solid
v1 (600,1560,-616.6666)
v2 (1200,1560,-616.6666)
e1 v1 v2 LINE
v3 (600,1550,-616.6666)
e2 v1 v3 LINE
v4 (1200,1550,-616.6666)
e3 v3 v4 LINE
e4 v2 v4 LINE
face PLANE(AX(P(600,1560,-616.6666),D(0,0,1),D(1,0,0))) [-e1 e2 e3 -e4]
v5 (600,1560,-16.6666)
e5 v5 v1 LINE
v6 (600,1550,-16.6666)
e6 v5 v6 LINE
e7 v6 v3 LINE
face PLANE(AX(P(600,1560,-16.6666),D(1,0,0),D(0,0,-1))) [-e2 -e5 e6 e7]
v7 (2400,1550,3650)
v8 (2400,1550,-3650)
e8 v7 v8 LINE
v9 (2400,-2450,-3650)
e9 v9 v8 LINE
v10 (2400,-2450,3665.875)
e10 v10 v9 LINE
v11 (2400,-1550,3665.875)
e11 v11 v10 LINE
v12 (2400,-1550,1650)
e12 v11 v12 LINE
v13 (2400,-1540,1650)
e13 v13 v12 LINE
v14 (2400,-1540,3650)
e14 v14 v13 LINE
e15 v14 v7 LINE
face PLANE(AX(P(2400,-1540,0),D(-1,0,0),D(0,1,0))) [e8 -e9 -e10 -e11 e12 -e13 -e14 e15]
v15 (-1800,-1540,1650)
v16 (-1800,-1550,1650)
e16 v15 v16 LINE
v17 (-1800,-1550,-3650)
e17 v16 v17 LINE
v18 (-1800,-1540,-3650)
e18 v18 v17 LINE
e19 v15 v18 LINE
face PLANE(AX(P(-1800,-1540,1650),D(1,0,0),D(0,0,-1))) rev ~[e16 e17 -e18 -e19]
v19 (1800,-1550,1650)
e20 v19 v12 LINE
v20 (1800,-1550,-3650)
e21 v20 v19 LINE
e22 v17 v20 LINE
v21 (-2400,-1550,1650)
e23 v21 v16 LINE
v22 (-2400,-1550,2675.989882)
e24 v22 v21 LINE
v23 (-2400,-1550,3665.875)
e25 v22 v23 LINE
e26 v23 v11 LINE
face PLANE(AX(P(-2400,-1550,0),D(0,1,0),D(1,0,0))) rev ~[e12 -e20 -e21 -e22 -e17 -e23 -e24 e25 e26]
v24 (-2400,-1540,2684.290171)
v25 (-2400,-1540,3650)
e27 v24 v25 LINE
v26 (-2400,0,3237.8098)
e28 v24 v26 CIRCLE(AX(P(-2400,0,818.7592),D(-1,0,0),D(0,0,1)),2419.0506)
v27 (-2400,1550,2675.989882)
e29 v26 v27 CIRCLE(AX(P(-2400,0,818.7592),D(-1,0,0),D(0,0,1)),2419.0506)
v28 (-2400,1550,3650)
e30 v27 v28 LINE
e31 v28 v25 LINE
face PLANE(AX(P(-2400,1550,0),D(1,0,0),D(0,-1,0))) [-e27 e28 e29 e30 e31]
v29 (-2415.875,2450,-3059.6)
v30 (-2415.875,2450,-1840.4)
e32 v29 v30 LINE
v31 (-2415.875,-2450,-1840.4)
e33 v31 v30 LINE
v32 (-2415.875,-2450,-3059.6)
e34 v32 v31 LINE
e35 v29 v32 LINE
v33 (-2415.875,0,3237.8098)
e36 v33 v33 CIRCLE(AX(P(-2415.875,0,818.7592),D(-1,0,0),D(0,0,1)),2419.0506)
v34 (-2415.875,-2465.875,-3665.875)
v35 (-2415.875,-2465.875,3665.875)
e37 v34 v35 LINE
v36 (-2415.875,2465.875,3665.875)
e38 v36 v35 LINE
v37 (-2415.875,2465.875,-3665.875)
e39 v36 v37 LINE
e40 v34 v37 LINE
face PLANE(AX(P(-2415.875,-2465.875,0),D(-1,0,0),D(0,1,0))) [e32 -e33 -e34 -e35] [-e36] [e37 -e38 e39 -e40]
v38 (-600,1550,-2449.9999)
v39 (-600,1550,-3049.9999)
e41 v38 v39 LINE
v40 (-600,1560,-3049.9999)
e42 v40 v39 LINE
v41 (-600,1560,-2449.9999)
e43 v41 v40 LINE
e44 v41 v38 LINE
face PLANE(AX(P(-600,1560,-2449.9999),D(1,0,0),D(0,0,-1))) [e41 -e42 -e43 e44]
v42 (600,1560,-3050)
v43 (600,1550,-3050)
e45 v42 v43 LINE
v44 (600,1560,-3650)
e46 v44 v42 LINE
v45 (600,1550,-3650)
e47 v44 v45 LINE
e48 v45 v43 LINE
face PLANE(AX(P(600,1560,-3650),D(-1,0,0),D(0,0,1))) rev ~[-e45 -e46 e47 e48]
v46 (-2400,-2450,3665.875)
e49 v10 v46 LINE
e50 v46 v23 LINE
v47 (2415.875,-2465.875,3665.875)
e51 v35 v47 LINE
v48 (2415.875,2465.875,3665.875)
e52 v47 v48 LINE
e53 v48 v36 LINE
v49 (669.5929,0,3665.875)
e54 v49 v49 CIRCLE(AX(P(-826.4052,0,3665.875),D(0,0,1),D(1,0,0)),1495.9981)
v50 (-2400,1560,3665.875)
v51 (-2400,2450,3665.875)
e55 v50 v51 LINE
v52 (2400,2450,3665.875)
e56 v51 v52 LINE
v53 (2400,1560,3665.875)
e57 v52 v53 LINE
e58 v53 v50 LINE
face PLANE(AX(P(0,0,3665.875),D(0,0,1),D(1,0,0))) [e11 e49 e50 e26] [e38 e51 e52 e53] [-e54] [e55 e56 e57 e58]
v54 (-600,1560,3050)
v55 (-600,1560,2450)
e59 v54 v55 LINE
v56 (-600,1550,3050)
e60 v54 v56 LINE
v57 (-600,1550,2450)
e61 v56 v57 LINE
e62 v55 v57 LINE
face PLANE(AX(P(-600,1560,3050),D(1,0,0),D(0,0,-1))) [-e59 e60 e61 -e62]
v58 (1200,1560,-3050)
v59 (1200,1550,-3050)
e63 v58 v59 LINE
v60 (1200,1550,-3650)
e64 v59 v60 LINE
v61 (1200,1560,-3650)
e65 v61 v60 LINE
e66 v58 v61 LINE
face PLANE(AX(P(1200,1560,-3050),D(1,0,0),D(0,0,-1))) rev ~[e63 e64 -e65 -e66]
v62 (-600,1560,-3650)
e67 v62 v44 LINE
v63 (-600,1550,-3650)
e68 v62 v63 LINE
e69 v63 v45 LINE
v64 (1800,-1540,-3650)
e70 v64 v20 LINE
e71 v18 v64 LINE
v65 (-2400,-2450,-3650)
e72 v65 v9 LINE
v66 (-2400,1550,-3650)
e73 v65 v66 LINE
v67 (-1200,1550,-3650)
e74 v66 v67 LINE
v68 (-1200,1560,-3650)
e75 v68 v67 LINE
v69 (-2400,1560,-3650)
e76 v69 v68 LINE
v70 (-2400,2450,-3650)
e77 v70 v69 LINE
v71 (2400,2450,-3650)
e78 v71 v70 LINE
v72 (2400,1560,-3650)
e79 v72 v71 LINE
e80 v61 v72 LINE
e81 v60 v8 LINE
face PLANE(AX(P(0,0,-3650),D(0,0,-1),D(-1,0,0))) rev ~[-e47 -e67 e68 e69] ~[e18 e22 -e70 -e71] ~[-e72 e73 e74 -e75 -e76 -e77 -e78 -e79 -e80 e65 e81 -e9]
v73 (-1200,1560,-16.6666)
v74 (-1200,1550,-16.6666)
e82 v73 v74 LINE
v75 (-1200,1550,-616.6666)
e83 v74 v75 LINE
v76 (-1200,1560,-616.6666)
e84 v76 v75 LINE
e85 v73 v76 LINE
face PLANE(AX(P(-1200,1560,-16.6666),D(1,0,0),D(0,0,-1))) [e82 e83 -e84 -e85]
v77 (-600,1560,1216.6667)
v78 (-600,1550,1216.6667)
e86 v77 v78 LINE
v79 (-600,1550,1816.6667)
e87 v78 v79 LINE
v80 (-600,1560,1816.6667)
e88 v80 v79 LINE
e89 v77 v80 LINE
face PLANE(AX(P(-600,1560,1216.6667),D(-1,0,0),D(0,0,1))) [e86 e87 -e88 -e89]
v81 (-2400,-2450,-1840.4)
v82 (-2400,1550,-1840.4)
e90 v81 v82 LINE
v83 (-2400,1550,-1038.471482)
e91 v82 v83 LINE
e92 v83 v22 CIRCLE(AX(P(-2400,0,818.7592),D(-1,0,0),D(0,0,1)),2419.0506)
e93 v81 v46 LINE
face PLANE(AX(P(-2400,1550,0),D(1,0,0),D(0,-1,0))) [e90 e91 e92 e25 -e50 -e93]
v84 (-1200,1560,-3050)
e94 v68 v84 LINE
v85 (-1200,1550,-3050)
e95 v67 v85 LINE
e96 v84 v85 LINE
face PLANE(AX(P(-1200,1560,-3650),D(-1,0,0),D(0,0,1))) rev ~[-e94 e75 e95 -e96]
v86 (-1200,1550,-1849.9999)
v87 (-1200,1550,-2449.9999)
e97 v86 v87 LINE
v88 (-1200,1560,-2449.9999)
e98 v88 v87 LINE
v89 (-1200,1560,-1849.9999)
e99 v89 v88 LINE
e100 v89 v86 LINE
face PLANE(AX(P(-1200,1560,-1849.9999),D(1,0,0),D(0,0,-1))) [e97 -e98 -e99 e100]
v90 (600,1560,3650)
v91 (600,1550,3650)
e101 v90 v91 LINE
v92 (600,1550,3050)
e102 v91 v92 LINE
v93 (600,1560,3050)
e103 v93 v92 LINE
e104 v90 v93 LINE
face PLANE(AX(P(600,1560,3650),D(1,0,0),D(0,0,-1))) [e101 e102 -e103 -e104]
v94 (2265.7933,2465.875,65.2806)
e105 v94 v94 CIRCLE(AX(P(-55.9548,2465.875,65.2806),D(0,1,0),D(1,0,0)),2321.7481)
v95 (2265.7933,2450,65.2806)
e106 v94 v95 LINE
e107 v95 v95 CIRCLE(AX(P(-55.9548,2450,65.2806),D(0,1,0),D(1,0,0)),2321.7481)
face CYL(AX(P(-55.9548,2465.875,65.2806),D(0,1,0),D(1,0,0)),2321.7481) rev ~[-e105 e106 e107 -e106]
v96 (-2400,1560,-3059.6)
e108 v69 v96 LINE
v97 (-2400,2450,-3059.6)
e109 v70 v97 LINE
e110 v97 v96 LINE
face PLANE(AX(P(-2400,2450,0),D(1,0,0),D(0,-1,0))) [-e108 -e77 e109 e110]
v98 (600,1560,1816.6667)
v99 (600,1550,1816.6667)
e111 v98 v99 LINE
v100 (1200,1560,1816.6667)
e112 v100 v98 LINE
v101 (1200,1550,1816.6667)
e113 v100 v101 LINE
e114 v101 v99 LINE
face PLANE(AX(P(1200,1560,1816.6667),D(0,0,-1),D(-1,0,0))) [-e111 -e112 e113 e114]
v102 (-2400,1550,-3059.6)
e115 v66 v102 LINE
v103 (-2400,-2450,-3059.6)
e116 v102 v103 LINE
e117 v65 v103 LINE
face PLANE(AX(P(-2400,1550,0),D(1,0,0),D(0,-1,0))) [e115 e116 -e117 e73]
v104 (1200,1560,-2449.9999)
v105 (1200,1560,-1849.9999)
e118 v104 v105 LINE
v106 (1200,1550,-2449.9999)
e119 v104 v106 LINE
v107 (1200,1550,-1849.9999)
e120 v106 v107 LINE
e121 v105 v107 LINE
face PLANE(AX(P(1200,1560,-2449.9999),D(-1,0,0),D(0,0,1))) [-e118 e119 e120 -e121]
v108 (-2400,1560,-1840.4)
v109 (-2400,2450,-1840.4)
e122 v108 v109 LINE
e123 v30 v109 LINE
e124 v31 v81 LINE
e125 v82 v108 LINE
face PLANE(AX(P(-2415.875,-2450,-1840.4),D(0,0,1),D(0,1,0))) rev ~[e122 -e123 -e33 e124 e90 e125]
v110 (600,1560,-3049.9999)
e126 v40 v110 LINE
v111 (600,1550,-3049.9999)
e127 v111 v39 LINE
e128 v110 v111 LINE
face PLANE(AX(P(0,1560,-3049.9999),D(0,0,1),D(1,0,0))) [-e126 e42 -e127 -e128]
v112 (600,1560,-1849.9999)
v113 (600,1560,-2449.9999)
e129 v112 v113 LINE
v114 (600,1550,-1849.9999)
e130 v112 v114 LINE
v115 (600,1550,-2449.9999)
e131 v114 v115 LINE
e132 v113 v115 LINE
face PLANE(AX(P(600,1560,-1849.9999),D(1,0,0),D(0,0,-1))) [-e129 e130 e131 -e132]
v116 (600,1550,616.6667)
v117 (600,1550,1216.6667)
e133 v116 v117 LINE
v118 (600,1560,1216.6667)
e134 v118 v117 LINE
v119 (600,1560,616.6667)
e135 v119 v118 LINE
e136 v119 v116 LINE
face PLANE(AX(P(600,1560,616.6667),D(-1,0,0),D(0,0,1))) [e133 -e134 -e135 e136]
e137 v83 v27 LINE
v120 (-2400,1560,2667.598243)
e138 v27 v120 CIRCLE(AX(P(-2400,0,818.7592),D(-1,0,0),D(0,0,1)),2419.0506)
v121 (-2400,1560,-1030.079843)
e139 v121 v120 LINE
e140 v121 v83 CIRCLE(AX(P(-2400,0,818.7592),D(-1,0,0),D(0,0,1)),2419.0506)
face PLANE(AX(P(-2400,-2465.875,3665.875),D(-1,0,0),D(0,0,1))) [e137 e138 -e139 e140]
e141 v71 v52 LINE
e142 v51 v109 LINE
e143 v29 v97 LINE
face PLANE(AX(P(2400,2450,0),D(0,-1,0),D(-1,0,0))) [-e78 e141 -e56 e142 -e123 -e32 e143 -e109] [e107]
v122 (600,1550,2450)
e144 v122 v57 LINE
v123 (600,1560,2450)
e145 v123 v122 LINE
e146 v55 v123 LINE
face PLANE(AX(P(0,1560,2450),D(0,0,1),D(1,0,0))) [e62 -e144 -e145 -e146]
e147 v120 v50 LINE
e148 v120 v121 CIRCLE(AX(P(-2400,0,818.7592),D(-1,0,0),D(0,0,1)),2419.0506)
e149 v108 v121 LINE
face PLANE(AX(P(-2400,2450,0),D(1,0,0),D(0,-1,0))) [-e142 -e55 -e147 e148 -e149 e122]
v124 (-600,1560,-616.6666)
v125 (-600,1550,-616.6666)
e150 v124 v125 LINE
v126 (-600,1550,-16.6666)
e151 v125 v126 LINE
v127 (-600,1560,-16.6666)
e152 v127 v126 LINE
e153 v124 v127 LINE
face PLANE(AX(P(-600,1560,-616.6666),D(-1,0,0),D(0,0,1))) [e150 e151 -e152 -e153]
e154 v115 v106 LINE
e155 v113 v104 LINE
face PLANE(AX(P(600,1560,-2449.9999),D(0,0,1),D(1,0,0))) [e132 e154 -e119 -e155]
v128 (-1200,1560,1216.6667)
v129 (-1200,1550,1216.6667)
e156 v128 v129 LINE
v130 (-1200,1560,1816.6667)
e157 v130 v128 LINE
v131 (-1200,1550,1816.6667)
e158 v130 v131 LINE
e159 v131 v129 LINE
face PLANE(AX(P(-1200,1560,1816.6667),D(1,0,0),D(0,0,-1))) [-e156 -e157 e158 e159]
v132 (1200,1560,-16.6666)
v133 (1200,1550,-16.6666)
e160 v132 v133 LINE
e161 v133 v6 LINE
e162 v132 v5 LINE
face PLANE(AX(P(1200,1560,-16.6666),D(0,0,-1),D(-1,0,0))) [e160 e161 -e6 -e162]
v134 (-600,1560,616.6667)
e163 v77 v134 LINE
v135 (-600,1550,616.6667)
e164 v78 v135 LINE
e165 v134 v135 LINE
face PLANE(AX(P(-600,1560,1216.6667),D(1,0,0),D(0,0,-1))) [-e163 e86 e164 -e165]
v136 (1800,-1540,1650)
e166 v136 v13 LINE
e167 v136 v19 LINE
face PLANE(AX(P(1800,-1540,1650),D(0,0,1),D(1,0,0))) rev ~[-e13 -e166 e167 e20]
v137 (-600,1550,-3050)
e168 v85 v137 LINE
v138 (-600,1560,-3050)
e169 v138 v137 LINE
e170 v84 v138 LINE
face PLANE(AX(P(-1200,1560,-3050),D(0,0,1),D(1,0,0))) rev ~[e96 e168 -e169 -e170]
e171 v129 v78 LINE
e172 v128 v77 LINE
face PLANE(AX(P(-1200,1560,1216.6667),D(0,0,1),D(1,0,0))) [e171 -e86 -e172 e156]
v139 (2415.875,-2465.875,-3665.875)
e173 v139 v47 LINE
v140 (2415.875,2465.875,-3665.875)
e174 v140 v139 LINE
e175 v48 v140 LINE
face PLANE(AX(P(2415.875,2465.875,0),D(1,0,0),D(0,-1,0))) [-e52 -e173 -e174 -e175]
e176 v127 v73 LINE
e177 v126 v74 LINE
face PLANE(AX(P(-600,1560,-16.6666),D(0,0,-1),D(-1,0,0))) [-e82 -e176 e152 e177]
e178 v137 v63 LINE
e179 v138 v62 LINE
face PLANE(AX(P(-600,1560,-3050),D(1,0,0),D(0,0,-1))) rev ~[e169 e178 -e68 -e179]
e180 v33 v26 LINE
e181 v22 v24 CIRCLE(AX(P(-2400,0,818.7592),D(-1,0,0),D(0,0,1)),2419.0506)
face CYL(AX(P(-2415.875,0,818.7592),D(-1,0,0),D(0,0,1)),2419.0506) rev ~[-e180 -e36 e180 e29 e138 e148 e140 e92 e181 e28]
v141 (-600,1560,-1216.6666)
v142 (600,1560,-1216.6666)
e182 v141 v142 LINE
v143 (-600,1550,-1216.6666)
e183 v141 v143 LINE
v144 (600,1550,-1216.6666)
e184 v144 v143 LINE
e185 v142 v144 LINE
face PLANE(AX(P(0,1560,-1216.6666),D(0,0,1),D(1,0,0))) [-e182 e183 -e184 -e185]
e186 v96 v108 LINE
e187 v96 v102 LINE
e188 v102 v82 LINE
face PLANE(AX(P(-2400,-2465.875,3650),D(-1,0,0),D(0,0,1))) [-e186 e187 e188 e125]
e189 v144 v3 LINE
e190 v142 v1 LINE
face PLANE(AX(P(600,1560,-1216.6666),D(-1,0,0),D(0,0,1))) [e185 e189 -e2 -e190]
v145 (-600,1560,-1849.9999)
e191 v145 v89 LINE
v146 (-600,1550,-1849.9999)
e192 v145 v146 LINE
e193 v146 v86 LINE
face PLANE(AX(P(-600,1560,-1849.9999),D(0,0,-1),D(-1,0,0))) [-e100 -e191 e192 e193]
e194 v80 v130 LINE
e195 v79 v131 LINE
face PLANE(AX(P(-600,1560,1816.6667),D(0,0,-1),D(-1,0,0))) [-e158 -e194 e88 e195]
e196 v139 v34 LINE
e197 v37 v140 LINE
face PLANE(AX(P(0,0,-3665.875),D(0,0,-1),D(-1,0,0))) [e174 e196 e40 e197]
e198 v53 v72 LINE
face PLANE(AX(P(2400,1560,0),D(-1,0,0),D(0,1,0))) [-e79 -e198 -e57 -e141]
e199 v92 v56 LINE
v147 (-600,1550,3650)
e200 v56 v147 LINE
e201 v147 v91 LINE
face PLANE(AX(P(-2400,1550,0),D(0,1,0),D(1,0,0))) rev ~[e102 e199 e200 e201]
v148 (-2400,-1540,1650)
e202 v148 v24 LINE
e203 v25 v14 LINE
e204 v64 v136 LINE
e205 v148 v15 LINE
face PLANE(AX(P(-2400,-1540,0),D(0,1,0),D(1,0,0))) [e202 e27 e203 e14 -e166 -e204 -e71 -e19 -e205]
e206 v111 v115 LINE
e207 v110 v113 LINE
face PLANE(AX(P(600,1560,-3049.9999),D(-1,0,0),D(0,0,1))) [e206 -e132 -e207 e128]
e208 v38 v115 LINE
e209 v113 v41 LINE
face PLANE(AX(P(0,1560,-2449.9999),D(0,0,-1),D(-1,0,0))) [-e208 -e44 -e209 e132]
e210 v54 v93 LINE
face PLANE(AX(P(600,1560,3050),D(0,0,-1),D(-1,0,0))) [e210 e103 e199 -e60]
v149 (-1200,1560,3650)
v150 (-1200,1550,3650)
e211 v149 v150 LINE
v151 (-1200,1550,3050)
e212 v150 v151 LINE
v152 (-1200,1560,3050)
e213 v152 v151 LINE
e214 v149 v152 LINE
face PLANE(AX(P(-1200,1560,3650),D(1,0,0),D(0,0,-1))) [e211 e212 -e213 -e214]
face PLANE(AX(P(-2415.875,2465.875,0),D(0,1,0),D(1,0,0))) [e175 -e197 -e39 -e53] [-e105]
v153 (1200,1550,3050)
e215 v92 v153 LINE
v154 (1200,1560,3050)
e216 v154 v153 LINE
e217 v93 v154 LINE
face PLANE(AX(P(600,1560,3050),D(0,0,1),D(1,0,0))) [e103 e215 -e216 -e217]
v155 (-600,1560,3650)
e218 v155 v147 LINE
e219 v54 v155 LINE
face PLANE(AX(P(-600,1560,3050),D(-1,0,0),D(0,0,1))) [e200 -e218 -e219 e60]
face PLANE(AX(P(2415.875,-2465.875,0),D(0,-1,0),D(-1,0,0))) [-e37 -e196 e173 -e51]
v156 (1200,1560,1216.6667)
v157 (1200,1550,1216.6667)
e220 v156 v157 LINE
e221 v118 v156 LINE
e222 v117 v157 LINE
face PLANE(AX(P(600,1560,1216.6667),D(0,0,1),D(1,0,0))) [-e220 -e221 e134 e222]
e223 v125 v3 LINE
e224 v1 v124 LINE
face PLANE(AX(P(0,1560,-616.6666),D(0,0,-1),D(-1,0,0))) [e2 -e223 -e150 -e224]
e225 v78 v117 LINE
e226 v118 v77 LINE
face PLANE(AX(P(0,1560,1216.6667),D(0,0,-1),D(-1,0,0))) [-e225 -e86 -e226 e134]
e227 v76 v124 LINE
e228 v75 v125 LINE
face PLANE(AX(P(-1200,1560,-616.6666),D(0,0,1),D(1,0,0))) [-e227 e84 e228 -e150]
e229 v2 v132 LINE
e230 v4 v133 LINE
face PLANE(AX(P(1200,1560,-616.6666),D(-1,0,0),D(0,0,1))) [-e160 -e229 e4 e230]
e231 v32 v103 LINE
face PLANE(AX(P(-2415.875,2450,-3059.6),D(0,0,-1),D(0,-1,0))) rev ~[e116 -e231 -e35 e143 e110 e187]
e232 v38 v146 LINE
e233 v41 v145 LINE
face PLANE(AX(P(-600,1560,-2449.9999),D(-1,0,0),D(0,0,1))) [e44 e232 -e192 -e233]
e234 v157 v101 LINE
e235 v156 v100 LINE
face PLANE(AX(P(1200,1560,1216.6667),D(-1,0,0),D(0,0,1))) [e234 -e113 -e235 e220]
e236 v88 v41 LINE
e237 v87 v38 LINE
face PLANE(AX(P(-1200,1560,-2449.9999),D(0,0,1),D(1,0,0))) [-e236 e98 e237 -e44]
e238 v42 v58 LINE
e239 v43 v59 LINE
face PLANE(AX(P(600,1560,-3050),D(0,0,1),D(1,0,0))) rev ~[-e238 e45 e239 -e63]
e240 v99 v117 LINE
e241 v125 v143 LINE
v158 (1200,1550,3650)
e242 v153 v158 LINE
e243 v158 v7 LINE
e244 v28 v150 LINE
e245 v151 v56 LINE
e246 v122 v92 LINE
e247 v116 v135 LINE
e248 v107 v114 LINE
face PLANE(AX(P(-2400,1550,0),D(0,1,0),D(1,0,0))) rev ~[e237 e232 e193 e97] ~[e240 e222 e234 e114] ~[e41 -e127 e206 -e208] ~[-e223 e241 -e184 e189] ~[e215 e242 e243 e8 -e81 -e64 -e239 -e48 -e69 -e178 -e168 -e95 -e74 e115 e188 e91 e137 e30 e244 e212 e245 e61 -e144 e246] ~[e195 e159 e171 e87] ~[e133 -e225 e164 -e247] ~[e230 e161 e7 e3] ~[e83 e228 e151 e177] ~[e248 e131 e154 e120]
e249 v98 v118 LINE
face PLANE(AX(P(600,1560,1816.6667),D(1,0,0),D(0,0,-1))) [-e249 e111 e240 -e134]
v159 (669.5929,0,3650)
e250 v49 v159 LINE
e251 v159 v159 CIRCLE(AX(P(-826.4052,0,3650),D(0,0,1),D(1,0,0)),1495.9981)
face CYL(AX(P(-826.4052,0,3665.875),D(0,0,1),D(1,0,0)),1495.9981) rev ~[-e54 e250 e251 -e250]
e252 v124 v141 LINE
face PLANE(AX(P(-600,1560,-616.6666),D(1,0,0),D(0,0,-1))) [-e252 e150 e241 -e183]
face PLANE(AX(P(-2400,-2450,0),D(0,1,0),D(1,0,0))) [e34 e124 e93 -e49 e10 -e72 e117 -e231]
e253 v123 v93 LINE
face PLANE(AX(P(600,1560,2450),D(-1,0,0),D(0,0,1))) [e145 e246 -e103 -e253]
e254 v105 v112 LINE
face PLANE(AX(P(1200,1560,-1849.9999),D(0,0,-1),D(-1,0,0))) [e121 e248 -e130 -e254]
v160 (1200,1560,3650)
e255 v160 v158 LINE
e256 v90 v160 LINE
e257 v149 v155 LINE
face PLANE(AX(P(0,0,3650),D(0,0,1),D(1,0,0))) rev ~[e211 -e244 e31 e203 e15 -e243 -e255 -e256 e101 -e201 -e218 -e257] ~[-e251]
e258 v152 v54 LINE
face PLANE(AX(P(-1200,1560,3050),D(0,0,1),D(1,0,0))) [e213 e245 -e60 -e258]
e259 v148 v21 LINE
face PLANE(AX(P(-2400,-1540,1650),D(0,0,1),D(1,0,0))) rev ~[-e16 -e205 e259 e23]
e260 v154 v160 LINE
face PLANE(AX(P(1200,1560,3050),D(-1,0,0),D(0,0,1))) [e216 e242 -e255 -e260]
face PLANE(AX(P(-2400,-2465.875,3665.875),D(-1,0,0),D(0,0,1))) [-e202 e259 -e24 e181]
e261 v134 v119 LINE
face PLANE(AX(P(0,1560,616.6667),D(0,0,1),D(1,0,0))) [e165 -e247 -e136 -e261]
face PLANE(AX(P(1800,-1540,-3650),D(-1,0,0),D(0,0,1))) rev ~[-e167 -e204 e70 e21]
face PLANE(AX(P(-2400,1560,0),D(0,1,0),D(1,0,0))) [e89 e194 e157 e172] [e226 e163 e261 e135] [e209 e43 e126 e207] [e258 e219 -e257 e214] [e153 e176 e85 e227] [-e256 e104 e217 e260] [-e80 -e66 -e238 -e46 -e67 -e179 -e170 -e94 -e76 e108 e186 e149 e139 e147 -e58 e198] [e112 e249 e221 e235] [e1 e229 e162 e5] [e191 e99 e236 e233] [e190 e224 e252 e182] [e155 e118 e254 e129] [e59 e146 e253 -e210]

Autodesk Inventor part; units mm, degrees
ref_plane "YZ Plane" through (0, 0, 0) normal (1, 0, 0) x (0, 1, 0)
ref_plane "XZ Plane" through (0, 0, 0) normal (0, 1, 0) x (-1, 0, 0)
sketch "Sketch1" plane through (0, 0, 0) normal (0, 0, 1) x (1, 0, 0)
  line L0 (-2400, -2450) -> (2400, -2450)
  line L1 (2400, -2450) -> (2400, 2450)
  line L2 (2400, 2450) -> (-2400, 2450)
  line L3 (-2400, 2450) -> (-2400, -2450)
  line L4 (-2400, -2450) -> (2400, 2450) construction
  line L5 (2400, -2450) -> (-2400, 2450) construction
  line L6 (-2400, -1550) -> (2400, -1550)
  line L7 (-2400, 1550) -> (2400, 1550)
  line L8 (-2415.875, 2465.875) -> (2415.875, 2465.875)
  line L9 (2415.875, 2465.875) -> (2415.875, -2465.875)
  line L10 (2415.875, -2465.875) -> (-2415.875, -2465.875)
  line L11 (-2415.875, -2465.875) -> (-2415.875, 2465.875)
  line L12 (-2400, -1540) -> (2400, -1540)
  line L13 (-2400, 1560) -> (2400, 1560)
  point P0 (0, 0)
  dimension "d0" = 4800
  dimension "d1" = 4900
  dimension "d2" = 900
  dimension "d3" = 900
  dimension "d4" = 15.875
  dimension "d6" = 10
  dimension "d7" = 10
extrude "Extrusion1" add sketch "Sketch1" along normal mid plane 7300 contours L3 L12 L1 L6 | L3 L13 L1 L7 | L8 L9 L10 L11
sketch "Sketch2" plane through (-2415.875, -2465.875, 3650) normal (-1, 0, 0) x (0, 0, 1)
  line L0 (-7300, 4915.875) -> (0, 4915.875) projected
  line L1 (-7300, 4915.875) -> (0, 4915.875) projected
  line L2 (-7300, 15.875) -> (0, 15.875) projected
  line L3 (-7300, 15.875) -> (0, 15.875) projected
  line L4 (-7300, 15.875) -> (0, 15.875) construction
  line L5 (-7300, 15.875) -> (-6100, 15.875) construction
  line L6 (-7300, 15.875) -> (-6100, 15.875) construction
  line L7 (-6100, 15.875) -> (-6100, 2465.875) construction
  line L8 (-7300, 4915.875) -> (0, 4915.875) projected
  line L9 (-6709.6, 15.875) -> (-5490.4, 15.875)
  line L10 (-5490.4, 15.875) -> (-5490.4, 4915.875)
  line L11 (-5490.4, 4915.875) -> (-6709.6, 4915.875)
  line L12 (-6709.6, 4915.875) -> (-6709.6, 15.875)
  line L13 (-6709.6, 15.875) -> (-5490.4, 4915.875) construction
  line L14 (-5490.4, 15.875) -> (-6709.6, 4915.875) construction
  point P0 (-3650, 2465.875)
  point P1 (-6709.6, 4915.875)
  point P2 (-6709.6, 15.875)
  point P3 (-5490.4, 15.875)
  point P4 (-5490.4, 4915.875)
  dimension "d10" = 1200
  dimension "d11" = 0
  dimension "d12" = 2450
  dimension "d13" = 90
  dimension "d14" = 1219.2
ref_plane "Work Plane1" through (-2415.875, 0, -2450) normal (0, 1, 0) x (-1, 0, 0)
extrude "Extrusion2" cut sketch "Sketch2" against normal up to surface (15.875 mm away)
sketch "Sketch9" plane through (-2415.875, 0, -2450) normal (0, 1, 0) x (-1, 0, 0)
  line L0 (0, -609.6) -> (0, 609.6) projected
  line L1 (0, 0) -> (-3.2, 0) construction
  line L2 (0, 0) -> (3.2, 0) construction
  point P0 (-2415.875, 2450)
  dimension "d67" = 3.2
  dimension "d68" = 180
sketch "Sketch3" plane through (0, 0, -3650) normal (0, 0, -1) x (-1, 0, 0)
  line L0 (2400, -1540) -> (-2400, -1540) projected
  line L1 (2400, -1540) -> (1800, -1540)
  line L2 (2400, -1540) -> (3000, -1540) construction
  line L3 (-2400, -1540) -> (2400, -1540) projected
  line L4 (-2400, -1540) -> (-1800, -1540)
  line L5 (-2400, -1540) -> (-1800, -1540) construction
  point P0 (0, 0)
  dimension "d17" = 600
  dimension "d18" = 180
  dimension "d19" = 600
  dimension "d20" = 0
sketch "Sketch4" plane through (-2400, 1560, 3650) normal (0, 1, 0) x (1, 0, 0)
  line L0 (4800, 0) -> (4800, 7300) projected
  line L1 (4800, 7300) -> (4800, 0) projected
  line L2 (4800, 0) -> (4800, 7300) construction
  line L3 (4800, 0) -> (3600, 0) construction
  line L4 (0, 0) -> (4800, 0) construction
  line L5 (4800, 0) -> (6000, 0) construction
  line L6 (3600, 0) -> (3000, 0)
  line L7 (3000, 0) -> (3000, 600)
  line L8 (3000, 600) -> (3600, 600)
  line L9 (3600, 600) -> (3600, 0)
  line L10 (3000, 600) -> (2400, 600)
  line L11 (2400, 600) -> (2400, 1200)
  line L12 (2400, 1200) -> (3000, 1200)
  line L13 (3000, 1200) -> (3000, 600)
  point P0 (2400, 3650)
  dimension "d21" = 1200
  dimension "d22" = 180
  dimension "d23" = 600
  dimension "d24" = 600
  dimension "d33" = 600
  dimension "d34" = 600
extrude "Extrusion3" cut sketch "Sketch4" against normal up to surface (10 mm away) contours L6 L7 L8 L9
pattern_linear "Rectangular Pattern1" count 4 spacing 1833.3333 along (0, 0, -1) count 2 spacing 1800 along (-1, 0, 0) of "Extrusion3"
extrude "Extrusion4" cut sketch "Sketch4" against normal up to surface (10 mm away) contours L10 L11 L12 L13
pattern_linear "Rectangular Pattern2" count 2 spacing 600 along (-1, 0, 0) count 4 spacing 1833.3333 along (0, 0, -1) of "Extrusion4"
sketch "Sketch5" plane through (-2400, 1560, -3650) normal (0, 1, 0) x (1, 0, 0)
  line L0 (1800, -600) -> (3000, -600) projected
  line L1 (3000, -600) -> (3600, -600)
  line L2 (3600, -600) -> (3600, 0)
  line L3 (3600, 0) -> (3000, 0)
  line L4 (3000, 0) -> (3000, -600)
  point P0 (2400, -3650)
  dimension "d43" = 600
  dimension "d44" = 600
extrude "Extrusion5" cut sketch "Sketch5" against normal up to surface (10 mm away)
pattern_linear "Rectangular Pattern3" count 2 spacing 1800 along (-1, 0, 0) of "Extrusion5"
sketch "Sketch6" plane through (-2400, -1540, 3650) normal (0, 1, 0) x (1, 0, 0)
  line L0 (4800, 0) -> (4800, 7300) projected
  line L1 (4800, 7300) -> (4200, 7300)
  line L2 (4200, 7300) -> (4200, 2000)
  line L3 (4200, 2000) -> (4800, 2000)
  line L4 (4800, 2000) -> (4800, 7300)
  point P0 (2400, 3650)
  dimension "d53" = 600
  dimension "d54" = 5300
extrude "Extrusion6" cut sketch "Sketch6" against normal up to surface (10 mm away)
pattern_linear "Rectangular Pattern4" count 2 spacing 4200 along (-1, 0, 0) of "Extrusion6"
sketch "Sketch7" plane through (0, 0, 3650) normal (0, 0, 1) x (1, 0, 0)
  line L0 (-1200, 1550) -> (-1200, 1560) projected
  line L1 (-1200, 1560) -> (-2400, 1560) projected
  line L2 (-2400, 1560) -> (-2400, 2450) projected
  line L3 (-2400, 2450) -> (2400, 2450) projected
  line L4 (2400, 2450) -> (2400, 1560) projected
  line L5 (2400, 1560) -> (1200, 1560) projected
  line L6 (1200, 1560) -> (1200, 1550) projected
  line L7 (1200, 1550) -> (2400, 1550) projected
  line L8 (2400, 1550) -> (2400, -1540) projected
  line L9 (2400, -1540) -> (-2400, -1540) projected
  line L10 (-2400, -1540) -> (-2400, 1550) projected
  line L11 (-2400, 1550) -> (-1200, 1550) projected
  line L12 (-2415.875, -2465.875) -> (2415.875, -2465.875) projected
  line L13 (2415.875, -2465.875) -> (2415.875, 2465.875) projected
  line L14 (2415.875, 2465.875) -> (-2415.875, 2465.875) projected
  line L15 (-2415.875, 2465.875) -> (-2415.875, -2465.875) projected
  line L16 (2400, -1550) -> (2400, -2450) projected
  line L17 (2400, -2450) -> (-2400, -2450) projected
  line L18 (-2400, -2450) -> (-2400, -1550) projected
  line L19 (-2400, -1550) -> (2400, -1550) projected
  point P0 (0, 0)
extrude "Extrusion7" add sketch "Sketch7" along normal blind 15.875 contours L0 L1 L2 L3 L4 L5 L6 L7 L8 L9 L10 L11 | L15 L14 L13 L12 | L16 L17 L18 L19
sketch "Sketch8" plane through (0, 0, -3650) normal (0, 0, -1) x (-1, 0, 0)
  line L0 (2400, 1550) -> (2400, -2450) projected
  line L1 (2400, -2450) -> (-2400, -2450) projected
  line L2 (-2400, -2450) -> (-2400, 1550) projected
  line L3 (-2400, 1550) -> (-1200, 1550) projected
  line L4 (-1200, 1550) -> (-1200, 1560) projected
  line L5 (-1200, 1560) -> (-2400, 1560) projected
  line L6 (-2400, 1560) -> (-2400, 2450) projected
  line L7 (-2400, 2450) -> (2400, 2450) projected
  line L8 (2400, 2450) -> (2400, 1560) projected
  line L9 (2400, 1560) -> (1200, 1560) projected
  line L10 (1200, 1560) -> (1200, 1550) projected
  line L11 (1200, 1550) -> (2400, 1550) projected
  line L12 (-2415.875, -2465.875) -> (2415.875, -2465.875) projected
  line L13 (2415.875, -2465.875) -> (2415.875, 2465.875) projected
  line L14 (2415.875, 2465.875) -> (-2415.875, 2465.875) projected
  line L15 (-2415.875, 2465.875) -> (-2415.875, -2465.875) projected
  point P0 (0, 0)
extrude "Extrusion8" add sketch "Sketch8" along normal blind 15.875 contours L0 L1 L2 L3 L4 L5 L6 L7 L8 L9 L10 L11 | L15 L14 L13 L12
sketch "Sketch10" plane through (-2415.875, -2465.875, 3665.875) normal (-1, 0, 0) x (0, 0, 1)
  circle A0 centre (-2847.1158, 2465.875) radius 2419.0506
  point P0 (-3665.875, 2465.875)
extrude "Extrusion9" cut sketch "Sketch10" against normal blind 15.875
sketch "Sketch11" plane through (-2415.875, 2465.875, 3665.875) normal (0, 1, 0) x (1, 0, 0)
  circle A0 centre (2359.9202, 3600.5944) radius 2321.7481
  point P0 (2415.875, 3665.875)
extrude "Extrusion10" cut sketch "Sketch11" against normal blind 15.875
sketch "Sketch13" plane through (0, 0, 3665.875) normal (0, 0, 1) x (1, 0, 0)
  line L0 (-2400, 1560) -> (-1200, 1560) projected
  line L1 (-1200, 1560) -> (-2400, 1560) projected
  line L2 (-1200, 1560) -> (-600, 1560) projected
  line L3 (-600, 1560) -> (600, 1560) projected
  line L4 (600, 1560) -> (1200, 1560) projected
  line L5 (2400, 1560) -> (1200, 1560) projected
  line L6 (1200, 1560) -> (2400, 1560) projected
  line L7 (1200, 1560) -> (600, 1560) projected
  line L8 (600, 1560) -> (1200, 1560) projected
  line L9 (1200, 1560) -> (600, 1560) projected
  line L10 (600, 1560) -> (-600, 1560) projected
  line L11 (-600, 1560) -> (-1200, 1560) projected
  line L12 (-1200, 1560) -> (-600, 1560) projected
  line L13 (-600, 1560) -> (-1200, 1560) projected
  line L14 (-600, 1560) -> (-1200, 1560) projected
  line L15 (-1200, 1560) -> (-600, 1560) projected
  line L16 (-600, 1560) -> (600, 1560) projected
  line L17 (600, 1560) -> (1200, 1560) projected
  line L18 (1200, 1560) -> (600, 1560) projected
  line L19 (600, 1560) -> (-600, 1560) projected
  line L20 (-600, 1560) -> (-1200, 1560) projected
  line L21 (-1200, 1560) -> (-600, 1560) projected
  line L22 (-600, 1560) -> (600, 1560) projected
  line L23 (600, 1560) -> (1200, 1560) projected
  line L24 (1200, 1560) -> (600, 1560) projected
  line L25 (600, 1560) -> (-600, 1560) projected
  line L26 (600, 1560) -> (-600, 1560) projected
  line L27 (600, 1560) -> (-600, 1560) projected
  line L28 (-2400, 1560) -> (-2400, 1560) projected
  line L29 (-2400, 1560) -> (-2400, 2450) projected
  line L30 (-2400, 1560) -> (-2400, 2450) projected
  line L31 (2265.7933, 2450) -> (-2377.7029, 2450) projected
  line L32 (-2400, 2450) -> (2400, 2450) projected
  line L33 (-2415.875, 2450) -> (-2400, 2450) projected
  line L34 (-2415.875, 2450) -> (-2400, 2450) projected
  line L35 (2400, 2450) -> (-2400, 2450) projected
  line L36 (-2400, -1550) -> (2400, -1550) projected
  line L37 (2400, -1550) -> (2400, -2450) projected
  line L38 (2400, -2450) -> (-2400, -2450) projected
  line L39 (-2400, -2450) -> (-2400, -1550) projected
  line L40 (2400, 2450) -> (2400, 1560) projected
  line L41 (2400, 1560) -> (2400, 2450) projected
  circle A0 centre (-826.4052, 0) radius 1495.9981
  point P0 (0, 0)
extrude "Extrusion12" cut sketch "Sketch13" against normal blind 15.875
equation "\"d4\" = out_w_thick"
equation "\"d6\" = flr_clng_thick"
equation "\"d7\" = flr_clng_thick"
equation "\"d12\" = 0.5 * win_h"
equation "\"d14\" = win_w"
equation "\"d67\" = 0.5 * win_d"
equation "\"d63\" = out_w_thick"
equation "\"d65\" = out_w_thick"
equation "\"d69\" = out_w_thick"
equation "\"d71\" = out_w_thick"
equation "\"d75\" = out_w_thick"
equation "\"out_w_thick\" = 15.875"
equation "\"flr_clng_thick\" = 10"
equation "\"win_h\" = 4900"
equation "\"win_w\" = 1219.2"
equation "\"win_d\" = 6.4"
properties part number "ServerRoom" material "Gypsum Wall Board"
